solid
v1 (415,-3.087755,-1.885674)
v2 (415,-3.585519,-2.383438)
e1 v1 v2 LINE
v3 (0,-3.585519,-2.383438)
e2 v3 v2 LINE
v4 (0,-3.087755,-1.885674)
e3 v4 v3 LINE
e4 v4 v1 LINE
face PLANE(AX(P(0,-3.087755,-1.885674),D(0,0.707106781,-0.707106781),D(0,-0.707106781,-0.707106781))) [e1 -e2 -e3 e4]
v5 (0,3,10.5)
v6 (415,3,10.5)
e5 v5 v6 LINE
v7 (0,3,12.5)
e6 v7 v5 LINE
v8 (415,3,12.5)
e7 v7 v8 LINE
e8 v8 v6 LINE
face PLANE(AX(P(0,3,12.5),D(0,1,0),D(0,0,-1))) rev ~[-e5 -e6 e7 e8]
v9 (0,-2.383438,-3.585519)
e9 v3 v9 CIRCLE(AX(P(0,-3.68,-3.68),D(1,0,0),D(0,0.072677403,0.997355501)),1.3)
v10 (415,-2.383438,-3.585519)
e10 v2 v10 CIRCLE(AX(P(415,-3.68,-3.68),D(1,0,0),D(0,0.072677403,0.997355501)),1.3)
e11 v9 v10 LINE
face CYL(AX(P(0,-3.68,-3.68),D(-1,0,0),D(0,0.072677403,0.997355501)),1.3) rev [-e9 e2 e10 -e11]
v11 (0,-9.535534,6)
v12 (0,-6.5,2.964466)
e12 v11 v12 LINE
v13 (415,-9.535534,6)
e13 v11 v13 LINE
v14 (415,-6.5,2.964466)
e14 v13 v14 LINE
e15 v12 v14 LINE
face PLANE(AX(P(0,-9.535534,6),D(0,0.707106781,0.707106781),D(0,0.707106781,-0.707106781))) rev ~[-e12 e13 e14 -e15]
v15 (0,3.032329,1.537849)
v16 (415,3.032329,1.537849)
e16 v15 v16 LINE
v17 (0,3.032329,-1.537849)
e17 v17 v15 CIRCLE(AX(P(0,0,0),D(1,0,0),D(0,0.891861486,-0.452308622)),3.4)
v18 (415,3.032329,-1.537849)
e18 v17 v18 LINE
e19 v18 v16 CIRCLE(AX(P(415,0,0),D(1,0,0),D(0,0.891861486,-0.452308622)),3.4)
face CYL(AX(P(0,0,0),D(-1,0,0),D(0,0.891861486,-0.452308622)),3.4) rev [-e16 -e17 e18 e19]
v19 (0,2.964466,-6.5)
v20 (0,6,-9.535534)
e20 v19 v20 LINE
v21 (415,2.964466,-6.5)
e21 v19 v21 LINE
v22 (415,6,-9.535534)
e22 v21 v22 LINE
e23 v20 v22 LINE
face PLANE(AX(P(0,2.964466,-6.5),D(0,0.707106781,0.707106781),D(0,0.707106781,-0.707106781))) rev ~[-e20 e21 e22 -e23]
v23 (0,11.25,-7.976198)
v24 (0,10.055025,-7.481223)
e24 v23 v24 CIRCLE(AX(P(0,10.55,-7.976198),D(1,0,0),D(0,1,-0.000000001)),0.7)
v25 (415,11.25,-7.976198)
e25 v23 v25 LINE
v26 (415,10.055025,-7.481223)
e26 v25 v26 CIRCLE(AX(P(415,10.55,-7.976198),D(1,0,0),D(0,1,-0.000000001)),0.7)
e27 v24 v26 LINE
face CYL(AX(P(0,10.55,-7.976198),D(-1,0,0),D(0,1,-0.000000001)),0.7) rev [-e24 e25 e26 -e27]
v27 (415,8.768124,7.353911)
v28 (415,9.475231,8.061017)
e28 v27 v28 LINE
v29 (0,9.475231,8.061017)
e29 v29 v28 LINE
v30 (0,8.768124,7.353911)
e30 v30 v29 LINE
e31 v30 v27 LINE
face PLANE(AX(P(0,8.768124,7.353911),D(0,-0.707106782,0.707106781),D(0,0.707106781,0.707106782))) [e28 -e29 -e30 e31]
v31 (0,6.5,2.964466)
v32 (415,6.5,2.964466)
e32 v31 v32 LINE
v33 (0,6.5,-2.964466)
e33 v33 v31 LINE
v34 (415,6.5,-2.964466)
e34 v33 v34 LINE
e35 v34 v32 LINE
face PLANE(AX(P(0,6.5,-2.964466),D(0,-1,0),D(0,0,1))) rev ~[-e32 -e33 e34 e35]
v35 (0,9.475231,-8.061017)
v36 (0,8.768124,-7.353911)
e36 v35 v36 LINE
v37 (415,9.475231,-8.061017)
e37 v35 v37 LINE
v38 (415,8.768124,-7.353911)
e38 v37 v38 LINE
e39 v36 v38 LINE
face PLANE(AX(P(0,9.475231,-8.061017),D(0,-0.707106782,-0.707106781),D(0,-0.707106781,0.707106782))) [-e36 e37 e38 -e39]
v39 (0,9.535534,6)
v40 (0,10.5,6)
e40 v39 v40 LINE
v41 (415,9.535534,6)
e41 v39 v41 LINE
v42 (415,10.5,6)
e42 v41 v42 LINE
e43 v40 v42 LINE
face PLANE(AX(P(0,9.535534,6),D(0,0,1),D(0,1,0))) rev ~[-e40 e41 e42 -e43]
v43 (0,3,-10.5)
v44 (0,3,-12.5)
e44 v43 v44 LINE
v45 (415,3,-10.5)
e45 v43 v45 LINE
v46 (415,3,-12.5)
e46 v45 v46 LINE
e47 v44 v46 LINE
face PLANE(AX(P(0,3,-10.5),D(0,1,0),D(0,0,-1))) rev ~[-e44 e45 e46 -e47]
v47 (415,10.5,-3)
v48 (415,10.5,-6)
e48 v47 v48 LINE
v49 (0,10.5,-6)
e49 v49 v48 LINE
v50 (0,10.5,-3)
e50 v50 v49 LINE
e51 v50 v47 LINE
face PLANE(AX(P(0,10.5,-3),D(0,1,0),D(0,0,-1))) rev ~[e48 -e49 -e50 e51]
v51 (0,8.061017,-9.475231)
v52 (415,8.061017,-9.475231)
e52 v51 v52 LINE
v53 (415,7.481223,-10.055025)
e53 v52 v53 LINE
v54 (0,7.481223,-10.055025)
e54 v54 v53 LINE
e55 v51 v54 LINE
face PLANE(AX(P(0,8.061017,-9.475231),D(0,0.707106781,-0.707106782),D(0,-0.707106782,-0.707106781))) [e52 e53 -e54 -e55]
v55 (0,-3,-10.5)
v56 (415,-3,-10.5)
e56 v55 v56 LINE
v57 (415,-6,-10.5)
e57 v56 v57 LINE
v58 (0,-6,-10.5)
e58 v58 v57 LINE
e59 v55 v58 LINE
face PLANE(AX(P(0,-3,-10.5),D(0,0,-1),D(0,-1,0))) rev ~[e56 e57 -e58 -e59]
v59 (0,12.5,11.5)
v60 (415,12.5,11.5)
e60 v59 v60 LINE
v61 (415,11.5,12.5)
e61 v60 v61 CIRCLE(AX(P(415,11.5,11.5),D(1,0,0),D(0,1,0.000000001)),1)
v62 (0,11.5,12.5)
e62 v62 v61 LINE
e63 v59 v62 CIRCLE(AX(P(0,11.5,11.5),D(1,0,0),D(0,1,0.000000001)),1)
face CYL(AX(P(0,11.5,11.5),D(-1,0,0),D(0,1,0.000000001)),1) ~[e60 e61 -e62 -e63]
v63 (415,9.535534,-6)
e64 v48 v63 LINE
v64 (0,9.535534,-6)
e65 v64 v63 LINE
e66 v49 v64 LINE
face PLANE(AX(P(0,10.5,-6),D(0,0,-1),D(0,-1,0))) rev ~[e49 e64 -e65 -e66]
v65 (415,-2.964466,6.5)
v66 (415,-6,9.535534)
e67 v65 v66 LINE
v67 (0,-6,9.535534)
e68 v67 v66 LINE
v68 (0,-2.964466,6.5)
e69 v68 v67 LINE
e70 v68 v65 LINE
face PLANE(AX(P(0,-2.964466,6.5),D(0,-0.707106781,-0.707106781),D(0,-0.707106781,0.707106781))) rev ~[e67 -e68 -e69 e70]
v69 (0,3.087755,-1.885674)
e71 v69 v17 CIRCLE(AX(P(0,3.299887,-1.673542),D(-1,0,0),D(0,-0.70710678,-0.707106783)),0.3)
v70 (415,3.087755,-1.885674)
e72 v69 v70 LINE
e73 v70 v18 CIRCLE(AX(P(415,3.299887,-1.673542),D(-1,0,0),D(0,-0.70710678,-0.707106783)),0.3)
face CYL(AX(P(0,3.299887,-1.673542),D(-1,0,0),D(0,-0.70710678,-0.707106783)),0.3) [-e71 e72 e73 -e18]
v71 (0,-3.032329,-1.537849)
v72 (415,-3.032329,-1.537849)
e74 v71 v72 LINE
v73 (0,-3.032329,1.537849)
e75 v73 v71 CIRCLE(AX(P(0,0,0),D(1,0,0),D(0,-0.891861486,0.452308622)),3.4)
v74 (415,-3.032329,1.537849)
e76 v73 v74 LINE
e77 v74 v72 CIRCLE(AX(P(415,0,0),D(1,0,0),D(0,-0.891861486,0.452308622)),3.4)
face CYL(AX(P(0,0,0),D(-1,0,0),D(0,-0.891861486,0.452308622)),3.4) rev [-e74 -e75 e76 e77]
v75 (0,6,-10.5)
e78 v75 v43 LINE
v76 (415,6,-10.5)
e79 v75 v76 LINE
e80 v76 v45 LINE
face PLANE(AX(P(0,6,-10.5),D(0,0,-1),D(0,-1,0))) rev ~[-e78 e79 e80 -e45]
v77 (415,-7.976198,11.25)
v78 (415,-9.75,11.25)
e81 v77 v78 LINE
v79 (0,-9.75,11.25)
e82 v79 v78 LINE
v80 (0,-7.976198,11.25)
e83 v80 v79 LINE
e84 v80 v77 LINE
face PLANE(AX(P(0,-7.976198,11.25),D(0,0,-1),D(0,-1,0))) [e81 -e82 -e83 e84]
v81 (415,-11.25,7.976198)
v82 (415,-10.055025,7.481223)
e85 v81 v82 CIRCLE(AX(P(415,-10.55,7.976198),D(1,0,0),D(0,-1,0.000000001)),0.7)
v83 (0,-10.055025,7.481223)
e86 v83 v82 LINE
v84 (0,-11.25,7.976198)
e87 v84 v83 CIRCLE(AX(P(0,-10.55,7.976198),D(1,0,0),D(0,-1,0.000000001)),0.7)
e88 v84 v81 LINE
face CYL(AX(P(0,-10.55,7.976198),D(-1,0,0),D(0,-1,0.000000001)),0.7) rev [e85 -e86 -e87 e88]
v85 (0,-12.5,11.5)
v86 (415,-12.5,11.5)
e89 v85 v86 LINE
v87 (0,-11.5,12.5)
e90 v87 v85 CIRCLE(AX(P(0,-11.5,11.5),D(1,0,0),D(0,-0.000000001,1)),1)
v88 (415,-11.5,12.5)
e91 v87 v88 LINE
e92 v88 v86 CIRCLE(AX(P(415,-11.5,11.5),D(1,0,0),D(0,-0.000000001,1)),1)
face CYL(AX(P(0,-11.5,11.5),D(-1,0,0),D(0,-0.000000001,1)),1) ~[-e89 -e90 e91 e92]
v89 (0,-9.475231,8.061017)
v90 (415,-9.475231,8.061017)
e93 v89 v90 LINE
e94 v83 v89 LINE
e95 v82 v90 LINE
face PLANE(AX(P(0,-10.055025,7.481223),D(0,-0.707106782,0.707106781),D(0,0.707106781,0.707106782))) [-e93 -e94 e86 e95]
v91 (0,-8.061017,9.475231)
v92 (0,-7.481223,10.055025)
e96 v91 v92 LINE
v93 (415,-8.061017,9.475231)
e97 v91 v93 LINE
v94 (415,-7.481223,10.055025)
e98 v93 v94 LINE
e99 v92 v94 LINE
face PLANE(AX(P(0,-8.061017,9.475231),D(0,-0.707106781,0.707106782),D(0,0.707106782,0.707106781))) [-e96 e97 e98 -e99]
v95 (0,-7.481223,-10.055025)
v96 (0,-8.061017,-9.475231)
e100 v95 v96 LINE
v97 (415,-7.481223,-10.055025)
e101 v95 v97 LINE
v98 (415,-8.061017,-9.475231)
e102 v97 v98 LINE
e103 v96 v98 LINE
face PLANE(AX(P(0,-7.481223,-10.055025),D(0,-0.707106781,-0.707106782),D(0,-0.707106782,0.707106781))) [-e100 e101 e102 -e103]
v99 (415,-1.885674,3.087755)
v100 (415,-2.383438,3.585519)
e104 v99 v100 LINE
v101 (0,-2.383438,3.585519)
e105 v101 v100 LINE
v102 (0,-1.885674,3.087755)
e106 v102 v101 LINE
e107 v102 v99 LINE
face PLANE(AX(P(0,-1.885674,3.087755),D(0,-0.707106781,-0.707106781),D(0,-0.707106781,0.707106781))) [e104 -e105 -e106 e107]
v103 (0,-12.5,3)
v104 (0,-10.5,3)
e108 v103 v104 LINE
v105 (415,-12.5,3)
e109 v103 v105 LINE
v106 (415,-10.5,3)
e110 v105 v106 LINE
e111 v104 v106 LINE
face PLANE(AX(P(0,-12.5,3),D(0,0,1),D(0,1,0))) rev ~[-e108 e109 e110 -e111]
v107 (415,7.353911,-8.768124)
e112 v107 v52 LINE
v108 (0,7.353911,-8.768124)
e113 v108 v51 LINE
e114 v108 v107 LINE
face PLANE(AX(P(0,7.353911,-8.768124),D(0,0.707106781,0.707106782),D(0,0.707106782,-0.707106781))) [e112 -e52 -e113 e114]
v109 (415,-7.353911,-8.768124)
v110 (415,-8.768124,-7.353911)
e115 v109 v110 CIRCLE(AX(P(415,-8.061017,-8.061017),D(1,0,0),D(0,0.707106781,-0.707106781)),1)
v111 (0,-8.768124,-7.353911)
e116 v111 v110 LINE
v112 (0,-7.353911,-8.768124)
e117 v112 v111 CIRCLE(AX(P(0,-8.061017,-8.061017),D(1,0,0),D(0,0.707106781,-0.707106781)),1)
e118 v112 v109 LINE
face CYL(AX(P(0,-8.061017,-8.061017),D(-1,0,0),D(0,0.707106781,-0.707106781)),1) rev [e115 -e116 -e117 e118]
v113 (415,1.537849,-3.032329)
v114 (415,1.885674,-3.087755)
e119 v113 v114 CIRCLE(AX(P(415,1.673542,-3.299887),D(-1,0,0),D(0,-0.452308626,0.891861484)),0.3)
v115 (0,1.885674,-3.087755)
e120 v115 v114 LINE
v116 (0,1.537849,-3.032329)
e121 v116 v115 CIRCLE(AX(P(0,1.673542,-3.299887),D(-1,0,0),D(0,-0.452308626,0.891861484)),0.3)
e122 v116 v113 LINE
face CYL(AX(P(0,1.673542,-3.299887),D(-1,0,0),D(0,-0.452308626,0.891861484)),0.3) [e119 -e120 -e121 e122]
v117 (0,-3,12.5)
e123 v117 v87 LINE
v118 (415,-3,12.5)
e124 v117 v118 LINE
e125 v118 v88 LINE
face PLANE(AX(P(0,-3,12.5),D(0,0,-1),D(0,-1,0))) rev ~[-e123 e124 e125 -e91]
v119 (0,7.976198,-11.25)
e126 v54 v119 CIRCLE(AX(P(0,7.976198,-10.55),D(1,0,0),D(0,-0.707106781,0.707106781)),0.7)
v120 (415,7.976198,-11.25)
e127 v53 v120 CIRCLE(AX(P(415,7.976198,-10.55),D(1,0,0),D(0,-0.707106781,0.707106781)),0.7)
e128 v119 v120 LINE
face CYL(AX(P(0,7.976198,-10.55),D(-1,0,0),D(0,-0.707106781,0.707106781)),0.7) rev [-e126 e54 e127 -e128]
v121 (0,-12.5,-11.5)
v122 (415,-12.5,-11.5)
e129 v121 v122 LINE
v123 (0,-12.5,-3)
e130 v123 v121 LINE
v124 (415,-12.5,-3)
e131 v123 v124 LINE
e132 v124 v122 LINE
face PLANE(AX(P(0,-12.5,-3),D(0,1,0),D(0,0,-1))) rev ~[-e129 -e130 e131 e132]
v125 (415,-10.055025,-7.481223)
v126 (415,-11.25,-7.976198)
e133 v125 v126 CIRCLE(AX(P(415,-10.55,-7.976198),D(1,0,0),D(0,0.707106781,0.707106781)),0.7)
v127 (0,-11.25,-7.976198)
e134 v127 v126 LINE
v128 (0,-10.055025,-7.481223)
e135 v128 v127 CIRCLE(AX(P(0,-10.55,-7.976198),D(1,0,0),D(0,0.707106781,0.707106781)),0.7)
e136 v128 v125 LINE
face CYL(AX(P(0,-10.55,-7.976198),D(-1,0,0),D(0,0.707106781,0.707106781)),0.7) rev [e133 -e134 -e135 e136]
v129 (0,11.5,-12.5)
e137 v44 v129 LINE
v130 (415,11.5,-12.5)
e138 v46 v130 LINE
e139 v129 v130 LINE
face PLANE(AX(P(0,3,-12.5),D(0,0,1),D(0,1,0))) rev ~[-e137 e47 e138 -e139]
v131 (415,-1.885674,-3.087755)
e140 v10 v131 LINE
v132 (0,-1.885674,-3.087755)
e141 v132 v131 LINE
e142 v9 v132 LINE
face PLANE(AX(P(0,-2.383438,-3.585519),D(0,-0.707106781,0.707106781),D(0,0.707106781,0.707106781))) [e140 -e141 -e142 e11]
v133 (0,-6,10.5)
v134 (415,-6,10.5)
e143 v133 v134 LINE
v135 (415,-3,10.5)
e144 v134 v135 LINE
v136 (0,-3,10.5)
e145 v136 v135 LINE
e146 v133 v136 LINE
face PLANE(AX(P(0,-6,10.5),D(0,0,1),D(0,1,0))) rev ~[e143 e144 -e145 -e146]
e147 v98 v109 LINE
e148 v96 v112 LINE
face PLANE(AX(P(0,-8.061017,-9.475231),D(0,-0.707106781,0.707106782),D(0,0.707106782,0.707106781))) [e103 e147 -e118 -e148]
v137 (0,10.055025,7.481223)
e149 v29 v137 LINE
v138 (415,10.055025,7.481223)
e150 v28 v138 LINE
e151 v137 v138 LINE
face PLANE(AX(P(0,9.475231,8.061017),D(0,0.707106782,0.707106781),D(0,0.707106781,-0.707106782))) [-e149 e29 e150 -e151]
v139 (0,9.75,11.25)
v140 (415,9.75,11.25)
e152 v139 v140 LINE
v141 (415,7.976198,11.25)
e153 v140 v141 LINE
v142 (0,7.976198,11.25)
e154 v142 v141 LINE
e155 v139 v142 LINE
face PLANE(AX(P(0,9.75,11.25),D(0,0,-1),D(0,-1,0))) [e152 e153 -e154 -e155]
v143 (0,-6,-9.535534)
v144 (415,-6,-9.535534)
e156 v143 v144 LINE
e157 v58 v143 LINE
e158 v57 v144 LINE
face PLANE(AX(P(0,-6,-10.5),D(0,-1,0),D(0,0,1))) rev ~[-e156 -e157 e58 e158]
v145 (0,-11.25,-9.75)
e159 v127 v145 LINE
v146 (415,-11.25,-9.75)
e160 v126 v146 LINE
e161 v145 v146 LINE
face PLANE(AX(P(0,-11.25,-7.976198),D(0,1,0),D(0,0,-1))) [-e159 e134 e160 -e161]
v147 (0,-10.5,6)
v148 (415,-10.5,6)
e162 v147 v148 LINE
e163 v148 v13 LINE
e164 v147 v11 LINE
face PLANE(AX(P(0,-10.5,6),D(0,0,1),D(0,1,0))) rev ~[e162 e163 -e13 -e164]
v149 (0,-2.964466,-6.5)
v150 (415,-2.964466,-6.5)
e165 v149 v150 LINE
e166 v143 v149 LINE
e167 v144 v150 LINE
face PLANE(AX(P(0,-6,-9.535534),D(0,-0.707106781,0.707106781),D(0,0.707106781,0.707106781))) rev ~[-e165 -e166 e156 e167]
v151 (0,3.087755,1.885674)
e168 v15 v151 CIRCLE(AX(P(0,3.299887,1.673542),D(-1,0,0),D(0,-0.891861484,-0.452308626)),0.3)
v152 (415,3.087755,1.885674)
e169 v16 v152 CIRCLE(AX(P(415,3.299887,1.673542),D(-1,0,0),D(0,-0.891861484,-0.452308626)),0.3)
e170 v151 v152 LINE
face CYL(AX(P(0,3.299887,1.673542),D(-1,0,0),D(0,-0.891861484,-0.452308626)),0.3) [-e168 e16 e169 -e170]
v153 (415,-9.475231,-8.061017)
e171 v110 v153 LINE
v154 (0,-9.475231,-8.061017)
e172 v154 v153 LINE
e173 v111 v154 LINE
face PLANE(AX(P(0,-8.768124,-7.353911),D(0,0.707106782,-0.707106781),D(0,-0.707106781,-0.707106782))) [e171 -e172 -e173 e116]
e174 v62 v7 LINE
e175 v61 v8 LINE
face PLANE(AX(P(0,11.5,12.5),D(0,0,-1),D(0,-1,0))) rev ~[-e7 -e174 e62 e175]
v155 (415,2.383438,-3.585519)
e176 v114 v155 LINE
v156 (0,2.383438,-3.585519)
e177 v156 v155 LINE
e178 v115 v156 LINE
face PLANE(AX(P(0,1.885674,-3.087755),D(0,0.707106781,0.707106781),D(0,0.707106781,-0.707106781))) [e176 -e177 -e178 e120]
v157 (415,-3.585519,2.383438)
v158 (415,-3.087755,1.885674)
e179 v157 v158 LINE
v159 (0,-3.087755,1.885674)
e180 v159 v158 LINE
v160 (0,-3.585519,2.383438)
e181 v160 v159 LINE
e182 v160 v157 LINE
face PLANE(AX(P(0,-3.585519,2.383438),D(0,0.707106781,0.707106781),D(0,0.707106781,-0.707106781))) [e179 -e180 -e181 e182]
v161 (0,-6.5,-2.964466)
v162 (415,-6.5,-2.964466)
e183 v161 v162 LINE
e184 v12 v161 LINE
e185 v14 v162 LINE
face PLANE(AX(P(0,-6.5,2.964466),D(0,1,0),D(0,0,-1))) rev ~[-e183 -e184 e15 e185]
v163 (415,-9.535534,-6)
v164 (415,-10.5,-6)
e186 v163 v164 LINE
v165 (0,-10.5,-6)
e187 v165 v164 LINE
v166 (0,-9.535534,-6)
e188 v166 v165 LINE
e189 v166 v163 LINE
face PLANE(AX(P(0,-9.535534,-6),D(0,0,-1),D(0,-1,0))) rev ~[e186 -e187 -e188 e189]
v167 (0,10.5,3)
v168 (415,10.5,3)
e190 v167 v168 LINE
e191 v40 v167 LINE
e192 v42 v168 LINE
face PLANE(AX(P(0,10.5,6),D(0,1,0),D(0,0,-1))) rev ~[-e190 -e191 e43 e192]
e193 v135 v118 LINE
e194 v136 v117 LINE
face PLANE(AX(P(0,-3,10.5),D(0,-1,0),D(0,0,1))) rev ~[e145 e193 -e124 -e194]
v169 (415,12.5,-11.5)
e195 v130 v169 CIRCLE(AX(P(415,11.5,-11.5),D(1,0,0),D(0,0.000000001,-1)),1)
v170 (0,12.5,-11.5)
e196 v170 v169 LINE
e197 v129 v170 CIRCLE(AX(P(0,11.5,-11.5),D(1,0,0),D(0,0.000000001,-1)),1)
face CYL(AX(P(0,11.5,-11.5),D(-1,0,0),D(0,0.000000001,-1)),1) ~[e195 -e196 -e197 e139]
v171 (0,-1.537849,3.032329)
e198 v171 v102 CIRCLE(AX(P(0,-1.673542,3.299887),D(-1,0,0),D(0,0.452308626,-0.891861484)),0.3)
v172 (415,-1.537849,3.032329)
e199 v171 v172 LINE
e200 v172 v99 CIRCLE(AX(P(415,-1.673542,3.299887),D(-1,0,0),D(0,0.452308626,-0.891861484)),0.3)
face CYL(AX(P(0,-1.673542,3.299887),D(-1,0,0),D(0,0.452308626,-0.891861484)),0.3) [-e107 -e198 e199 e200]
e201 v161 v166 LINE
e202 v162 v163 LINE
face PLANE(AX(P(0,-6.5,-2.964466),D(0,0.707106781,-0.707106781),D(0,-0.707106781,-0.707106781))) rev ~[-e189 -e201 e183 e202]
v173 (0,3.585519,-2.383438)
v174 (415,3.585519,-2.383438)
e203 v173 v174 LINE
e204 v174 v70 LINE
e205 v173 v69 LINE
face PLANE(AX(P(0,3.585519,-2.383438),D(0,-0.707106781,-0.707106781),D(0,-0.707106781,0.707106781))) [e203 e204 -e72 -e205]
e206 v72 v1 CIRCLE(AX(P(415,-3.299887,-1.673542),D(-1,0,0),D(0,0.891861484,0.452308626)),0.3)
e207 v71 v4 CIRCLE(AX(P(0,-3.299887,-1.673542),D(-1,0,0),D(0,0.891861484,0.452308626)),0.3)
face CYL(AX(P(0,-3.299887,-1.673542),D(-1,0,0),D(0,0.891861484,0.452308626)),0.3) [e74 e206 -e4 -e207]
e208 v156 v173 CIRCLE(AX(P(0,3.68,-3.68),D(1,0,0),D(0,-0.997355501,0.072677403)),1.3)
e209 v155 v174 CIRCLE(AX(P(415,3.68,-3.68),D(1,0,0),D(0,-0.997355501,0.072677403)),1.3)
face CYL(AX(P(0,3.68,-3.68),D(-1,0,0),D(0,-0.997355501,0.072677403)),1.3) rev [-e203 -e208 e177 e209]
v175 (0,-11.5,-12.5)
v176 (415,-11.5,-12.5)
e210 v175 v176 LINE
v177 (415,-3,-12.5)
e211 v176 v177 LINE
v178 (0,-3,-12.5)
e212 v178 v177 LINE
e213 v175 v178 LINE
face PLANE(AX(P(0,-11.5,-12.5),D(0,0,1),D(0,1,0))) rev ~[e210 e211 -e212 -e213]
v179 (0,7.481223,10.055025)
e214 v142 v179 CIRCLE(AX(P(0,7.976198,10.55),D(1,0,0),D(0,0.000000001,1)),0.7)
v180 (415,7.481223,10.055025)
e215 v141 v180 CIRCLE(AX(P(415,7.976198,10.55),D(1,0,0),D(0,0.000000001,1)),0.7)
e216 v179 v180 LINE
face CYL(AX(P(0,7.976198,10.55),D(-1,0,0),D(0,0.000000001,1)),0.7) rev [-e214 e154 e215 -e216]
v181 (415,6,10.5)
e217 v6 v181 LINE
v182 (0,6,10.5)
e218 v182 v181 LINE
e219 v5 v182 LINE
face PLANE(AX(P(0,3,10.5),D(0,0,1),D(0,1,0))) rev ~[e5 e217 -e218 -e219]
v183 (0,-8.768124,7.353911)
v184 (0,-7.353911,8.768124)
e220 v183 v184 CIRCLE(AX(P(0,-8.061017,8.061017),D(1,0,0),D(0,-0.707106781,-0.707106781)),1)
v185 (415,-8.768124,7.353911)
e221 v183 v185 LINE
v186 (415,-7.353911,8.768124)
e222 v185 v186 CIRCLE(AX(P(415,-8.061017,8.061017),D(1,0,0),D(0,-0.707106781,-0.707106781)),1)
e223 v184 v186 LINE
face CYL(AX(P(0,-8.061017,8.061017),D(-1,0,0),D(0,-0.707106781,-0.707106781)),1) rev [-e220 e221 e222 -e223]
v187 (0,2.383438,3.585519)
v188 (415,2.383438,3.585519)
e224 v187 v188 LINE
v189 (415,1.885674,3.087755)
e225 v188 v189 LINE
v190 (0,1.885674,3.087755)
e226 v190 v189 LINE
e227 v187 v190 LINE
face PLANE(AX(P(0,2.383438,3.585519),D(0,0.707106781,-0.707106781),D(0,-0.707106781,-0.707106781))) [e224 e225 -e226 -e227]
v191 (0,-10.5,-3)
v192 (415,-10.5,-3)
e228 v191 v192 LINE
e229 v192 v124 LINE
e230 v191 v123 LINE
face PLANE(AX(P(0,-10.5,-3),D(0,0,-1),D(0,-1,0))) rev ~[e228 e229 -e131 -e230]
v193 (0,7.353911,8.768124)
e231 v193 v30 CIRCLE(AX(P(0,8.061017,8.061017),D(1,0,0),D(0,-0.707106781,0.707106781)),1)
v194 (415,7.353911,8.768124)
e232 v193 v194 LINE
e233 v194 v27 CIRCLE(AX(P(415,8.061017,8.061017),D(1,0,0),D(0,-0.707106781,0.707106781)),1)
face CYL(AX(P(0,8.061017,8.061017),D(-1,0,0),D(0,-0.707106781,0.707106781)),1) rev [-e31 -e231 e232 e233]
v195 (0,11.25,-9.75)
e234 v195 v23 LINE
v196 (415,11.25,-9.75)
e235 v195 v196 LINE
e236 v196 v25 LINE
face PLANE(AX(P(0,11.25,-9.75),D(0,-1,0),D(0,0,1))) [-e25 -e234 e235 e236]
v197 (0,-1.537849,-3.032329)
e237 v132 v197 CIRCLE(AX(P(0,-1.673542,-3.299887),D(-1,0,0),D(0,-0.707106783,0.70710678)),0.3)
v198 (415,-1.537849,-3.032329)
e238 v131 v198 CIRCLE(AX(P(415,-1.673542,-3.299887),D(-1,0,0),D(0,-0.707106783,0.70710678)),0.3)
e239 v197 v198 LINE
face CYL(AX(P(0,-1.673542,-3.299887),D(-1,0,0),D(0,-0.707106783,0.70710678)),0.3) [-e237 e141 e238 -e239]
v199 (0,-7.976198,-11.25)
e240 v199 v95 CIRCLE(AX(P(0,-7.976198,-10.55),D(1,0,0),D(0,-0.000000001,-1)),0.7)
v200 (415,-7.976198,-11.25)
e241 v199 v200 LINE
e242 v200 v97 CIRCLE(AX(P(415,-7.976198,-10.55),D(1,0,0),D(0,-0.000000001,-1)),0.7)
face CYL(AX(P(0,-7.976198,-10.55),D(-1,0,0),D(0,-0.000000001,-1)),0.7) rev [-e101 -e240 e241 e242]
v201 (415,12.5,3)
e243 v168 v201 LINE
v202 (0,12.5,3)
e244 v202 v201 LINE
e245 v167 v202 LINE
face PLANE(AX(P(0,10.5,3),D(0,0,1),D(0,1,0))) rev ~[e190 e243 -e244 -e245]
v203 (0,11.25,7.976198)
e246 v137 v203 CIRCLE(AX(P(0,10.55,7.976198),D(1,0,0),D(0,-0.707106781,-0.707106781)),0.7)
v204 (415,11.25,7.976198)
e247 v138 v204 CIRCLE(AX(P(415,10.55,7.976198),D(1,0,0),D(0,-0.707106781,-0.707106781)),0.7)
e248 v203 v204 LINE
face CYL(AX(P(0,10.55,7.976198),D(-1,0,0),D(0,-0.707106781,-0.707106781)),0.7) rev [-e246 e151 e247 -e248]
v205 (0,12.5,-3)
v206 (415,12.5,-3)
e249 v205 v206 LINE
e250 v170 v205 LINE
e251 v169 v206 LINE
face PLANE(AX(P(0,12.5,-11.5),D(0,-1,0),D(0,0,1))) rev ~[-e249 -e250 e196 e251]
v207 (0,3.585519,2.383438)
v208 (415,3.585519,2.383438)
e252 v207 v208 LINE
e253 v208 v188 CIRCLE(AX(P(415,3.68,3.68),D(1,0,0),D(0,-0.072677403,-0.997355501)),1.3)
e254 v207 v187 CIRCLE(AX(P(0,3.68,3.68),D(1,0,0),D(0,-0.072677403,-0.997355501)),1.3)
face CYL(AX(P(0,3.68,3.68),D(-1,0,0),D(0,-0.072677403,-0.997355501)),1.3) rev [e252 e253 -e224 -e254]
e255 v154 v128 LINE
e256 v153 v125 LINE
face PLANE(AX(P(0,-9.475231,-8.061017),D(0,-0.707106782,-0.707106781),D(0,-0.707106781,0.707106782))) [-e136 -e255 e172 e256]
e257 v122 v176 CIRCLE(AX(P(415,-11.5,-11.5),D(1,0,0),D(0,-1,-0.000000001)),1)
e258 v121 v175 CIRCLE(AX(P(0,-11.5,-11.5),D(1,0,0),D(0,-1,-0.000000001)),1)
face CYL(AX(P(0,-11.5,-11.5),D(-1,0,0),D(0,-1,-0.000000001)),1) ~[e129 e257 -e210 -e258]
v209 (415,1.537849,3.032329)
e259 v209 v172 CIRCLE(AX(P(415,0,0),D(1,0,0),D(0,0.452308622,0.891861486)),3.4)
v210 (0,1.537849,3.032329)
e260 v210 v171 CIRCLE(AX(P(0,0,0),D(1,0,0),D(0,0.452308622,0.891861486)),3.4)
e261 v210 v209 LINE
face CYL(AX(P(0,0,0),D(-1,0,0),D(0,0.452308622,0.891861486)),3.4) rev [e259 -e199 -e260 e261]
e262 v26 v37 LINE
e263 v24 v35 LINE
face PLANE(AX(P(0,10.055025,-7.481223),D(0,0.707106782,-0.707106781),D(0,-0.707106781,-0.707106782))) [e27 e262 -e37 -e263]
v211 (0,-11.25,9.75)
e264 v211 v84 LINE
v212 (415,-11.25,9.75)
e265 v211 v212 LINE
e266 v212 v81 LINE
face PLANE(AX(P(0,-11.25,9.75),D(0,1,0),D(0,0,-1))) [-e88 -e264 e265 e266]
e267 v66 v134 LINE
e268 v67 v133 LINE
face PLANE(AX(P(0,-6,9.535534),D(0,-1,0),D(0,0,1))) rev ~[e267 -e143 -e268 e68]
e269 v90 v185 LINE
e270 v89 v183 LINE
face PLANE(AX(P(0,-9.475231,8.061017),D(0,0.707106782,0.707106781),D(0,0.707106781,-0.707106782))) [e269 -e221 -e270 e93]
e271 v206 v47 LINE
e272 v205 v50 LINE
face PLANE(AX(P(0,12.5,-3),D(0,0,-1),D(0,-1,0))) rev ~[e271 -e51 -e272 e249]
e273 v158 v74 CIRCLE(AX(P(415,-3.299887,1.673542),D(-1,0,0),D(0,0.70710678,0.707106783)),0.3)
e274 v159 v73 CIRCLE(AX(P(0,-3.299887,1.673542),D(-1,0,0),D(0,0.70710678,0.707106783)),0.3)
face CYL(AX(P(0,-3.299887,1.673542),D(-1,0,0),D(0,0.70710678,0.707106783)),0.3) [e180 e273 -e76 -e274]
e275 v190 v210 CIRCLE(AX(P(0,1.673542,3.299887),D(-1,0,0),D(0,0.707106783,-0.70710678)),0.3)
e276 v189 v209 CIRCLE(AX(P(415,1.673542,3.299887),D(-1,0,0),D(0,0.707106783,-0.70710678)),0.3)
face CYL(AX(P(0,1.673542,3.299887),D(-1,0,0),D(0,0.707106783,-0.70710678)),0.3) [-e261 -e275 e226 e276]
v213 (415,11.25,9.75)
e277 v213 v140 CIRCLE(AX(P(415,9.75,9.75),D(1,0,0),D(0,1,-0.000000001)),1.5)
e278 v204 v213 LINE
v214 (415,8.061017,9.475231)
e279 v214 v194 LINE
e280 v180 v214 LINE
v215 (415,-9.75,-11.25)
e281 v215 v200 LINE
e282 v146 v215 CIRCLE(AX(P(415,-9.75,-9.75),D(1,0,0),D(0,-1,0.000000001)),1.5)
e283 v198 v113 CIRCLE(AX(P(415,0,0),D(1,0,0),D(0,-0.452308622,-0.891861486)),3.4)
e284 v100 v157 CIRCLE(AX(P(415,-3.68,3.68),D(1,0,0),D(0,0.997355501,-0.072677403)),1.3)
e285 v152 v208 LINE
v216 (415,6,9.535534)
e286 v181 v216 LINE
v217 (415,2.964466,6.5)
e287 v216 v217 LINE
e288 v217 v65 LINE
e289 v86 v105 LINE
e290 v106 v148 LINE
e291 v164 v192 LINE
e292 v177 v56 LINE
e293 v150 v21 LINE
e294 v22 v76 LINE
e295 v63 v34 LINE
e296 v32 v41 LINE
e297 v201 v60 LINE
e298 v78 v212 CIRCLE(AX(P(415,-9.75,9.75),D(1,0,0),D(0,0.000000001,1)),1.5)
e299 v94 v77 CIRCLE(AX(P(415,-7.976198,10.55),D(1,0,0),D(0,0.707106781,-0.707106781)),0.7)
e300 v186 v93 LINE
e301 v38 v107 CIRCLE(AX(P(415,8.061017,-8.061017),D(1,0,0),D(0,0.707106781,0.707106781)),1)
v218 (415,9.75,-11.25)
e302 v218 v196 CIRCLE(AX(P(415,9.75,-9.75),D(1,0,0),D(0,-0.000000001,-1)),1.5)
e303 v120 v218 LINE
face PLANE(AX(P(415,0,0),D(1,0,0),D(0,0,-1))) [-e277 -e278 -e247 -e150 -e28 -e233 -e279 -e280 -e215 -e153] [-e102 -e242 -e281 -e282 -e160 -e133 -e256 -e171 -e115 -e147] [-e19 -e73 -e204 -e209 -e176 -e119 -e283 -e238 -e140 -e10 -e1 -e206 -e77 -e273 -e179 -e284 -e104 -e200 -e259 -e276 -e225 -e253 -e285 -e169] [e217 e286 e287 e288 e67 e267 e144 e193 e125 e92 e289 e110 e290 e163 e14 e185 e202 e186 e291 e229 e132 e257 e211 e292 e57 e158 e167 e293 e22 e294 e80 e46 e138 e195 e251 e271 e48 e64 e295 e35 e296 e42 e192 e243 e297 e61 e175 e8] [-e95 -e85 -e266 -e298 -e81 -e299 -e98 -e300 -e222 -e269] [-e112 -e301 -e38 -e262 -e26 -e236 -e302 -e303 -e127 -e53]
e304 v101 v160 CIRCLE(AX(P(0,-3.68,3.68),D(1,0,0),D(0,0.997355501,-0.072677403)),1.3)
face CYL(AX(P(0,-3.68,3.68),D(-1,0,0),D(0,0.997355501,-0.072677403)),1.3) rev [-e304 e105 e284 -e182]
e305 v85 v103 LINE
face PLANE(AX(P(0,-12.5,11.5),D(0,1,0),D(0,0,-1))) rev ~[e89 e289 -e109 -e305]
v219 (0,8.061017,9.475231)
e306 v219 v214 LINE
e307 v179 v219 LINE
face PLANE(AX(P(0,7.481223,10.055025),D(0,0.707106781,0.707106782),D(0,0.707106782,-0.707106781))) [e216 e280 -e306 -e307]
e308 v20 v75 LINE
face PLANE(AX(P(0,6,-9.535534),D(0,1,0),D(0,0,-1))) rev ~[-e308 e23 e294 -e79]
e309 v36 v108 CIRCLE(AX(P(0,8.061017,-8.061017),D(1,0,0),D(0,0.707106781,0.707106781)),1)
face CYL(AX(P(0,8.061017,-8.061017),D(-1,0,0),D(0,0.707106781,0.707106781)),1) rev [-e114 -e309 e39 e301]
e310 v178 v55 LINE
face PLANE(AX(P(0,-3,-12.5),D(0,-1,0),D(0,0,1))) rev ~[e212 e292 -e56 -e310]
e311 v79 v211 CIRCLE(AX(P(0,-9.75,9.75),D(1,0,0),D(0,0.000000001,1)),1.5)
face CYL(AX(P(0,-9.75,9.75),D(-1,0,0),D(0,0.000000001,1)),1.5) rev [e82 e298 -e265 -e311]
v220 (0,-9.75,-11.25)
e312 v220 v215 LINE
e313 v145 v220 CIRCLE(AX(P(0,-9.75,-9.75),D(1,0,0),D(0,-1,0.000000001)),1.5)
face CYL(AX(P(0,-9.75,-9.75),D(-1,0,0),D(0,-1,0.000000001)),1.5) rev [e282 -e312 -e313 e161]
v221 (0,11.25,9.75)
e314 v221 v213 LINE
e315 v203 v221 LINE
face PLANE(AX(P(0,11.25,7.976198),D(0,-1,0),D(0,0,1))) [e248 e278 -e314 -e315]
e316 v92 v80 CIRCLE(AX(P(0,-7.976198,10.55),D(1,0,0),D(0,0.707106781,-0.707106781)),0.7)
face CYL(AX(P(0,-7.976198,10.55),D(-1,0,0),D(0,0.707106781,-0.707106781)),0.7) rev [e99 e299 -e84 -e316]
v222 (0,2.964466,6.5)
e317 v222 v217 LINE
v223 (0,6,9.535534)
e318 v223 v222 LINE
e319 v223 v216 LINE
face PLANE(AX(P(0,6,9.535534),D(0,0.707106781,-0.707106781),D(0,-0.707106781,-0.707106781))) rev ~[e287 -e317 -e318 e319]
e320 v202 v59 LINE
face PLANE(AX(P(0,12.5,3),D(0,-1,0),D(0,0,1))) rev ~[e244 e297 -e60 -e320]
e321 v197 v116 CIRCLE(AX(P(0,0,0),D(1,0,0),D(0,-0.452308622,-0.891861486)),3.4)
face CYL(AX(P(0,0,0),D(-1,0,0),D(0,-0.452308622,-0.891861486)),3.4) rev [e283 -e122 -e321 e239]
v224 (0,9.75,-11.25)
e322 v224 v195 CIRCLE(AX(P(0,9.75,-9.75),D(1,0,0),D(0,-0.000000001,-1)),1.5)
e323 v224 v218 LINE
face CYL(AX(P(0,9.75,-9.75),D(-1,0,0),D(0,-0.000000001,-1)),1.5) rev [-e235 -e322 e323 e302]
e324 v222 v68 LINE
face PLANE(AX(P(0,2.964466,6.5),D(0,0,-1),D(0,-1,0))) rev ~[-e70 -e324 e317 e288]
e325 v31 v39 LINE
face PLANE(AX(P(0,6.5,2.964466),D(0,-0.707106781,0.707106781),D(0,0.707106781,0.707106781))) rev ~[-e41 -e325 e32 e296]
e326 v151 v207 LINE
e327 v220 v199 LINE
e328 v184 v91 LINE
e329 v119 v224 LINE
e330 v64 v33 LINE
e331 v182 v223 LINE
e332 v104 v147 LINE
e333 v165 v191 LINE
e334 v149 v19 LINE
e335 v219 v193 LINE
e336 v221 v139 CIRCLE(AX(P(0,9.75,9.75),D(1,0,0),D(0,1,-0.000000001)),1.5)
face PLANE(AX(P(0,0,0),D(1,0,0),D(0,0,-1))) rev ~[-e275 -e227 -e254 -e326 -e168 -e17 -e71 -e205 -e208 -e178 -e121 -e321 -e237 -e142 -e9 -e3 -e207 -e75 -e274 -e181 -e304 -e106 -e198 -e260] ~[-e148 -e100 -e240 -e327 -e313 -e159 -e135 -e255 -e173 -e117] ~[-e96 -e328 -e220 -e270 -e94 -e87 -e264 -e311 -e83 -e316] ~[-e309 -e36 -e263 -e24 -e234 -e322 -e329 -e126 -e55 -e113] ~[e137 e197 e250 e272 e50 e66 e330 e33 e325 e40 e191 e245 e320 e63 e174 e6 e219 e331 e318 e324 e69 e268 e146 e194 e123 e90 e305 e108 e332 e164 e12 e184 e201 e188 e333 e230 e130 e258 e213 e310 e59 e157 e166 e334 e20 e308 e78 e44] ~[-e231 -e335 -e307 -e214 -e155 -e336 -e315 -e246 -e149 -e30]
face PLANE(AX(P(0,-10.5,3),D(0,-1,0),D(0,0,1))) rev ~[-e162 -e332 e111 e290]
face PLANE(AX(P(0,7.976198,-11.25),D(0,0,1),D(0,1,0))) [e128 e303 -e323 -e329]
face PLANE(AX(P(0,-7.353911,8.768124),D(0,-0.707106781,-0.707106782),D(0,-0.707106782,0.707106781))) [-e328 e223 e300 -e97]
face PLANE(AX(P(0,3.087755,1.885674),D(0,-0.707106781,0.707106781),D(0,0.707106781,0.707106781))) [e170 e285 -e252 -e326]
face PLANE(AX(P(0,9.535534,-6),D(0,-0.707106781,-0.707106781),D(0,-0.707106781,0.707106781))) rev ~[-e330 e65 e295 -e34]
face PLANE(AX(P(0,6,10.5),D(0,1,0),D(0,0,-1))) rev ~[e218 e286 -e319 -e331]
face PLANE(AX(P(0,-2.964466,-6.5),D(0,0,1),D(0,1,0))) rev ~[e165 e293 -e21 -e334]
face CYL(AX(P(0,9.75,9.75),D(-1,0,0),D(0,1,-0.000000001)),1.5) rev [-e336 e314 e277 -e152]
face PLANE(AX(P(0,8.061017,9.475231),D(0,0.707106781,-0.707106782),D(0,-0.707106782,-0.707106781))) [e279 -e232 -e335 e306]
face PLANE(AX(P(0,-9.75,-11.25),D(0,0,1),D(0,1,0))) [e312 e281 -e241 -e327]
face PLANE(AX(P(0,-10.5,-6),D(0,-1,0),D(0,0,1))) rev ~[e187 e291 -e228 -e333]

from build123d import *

# Parameters (mm, degrees)
BOSS_EXTRUDE1_DEPTH = 415


with BuildPart() as part:
    # Sketch1 → Boss-Extrude1 (new body)
    with BuildSketch(Plane(origin=(0, 0, 0), x_dir=(0, 0, -1), z_dir=(1, 0, 0))):
        with BuildLine():
            Line((-12.5, 11.5), (-12.5, 3))
            Line((-12.5, 3), (-10.5, 3))
            Line((-10.5, 3), (-10.5, 6))
            Line((-10.5, 6), (-9.535533906, 6))
            Line((-9.535533906, 6), (-6.5, 2.964466094))
            Line((-6.5, 2.964466094), (-6.5, -2.964466094))
            Line((-6.5, -2.964466094), (-9.535533906, -6))
            Line((-9.535533906, -6), (-10.5, -6))
            Line((-10.5, -6), (-10.5, -3))
            Line((-10.5, -3), (-12.5, -3))
            Line((-12.5, -3), (-12.5, -11.5))
            ThreePointArc((-12.5, -11.5), (-12.207106781, -12.207106781), (-11.5, -12.5))
            Line((-11.5, -12.5), (-3, -12.5))
            Line((-3, -12.5), (-3, -10.5))
            Line((-3, -10.5), (-6, -10.5))
            Line((-6, -10.5), (-6, -9.535533906))
            Line((-6, -9.535533906), (-2.964466094, -6.5))
            Line((-2.964466094, -6.5), (2.964466094, -6.5))
            Line((2.964466094, -6.5), (6, -9.535533906))
            Line((6, -9.535533906), (6, -10.5))
            Line((6, -10.5), (3, -10.5))
            Line((3, -10.5), (3, -12.5))
            Line((3, -12.5), (11.5, -12.5))
            ThreePointArc((11.5, -12.5), (12.207106781, -12.207106781), (12.5, -11.5))
            Line((12.5, -11.5), (12.5, -3))
            Line((12.5, -3), (10.5, -3))
            Line((10.5, -3), (10.5, -6))
            Line((10.5, -6), (9.535533906, -6))
            Line((9.535533906, -6), (6.5, -2.964466094))
            Line((6.5, -2.964466094), (6.5, 2.964466094))
            Line((6.5, 2.964466094), (9.535533906, 6))
            Line((9.535533906, 6), (10.5, 6))
            Line((10.5, 6), (10.5, 3))
            Line((10.5, 3), (12.5, 3))
            Line((12.5, 3), (12.5, 11.5))
            ThreePointArc((12.5, 11.5), (12.207106781, 12.207106781), (11.5, 12.5))
            Line((11.5, 12.5), (3, 12.5))
            Line((3, 12.5), (3, 10.5))
            Line((3, 10.5), (6, 10.5))
            Line((6, 10.5), (6, 9.535533906))
            Line((6, 9.535533906), (2.964466094, 6.5))
            Line((2.964466094, 6.5), (-2.964466094, 6.5))
            Line((-2.964466094, 6.5), (-6, 9.535533906))
            Line((-6, 9.535533906), (-6, 10.5))
            Line((-6, 10.5), (-3, 10.5))
            Line((-3, 10.5), (-3, 12.5))
            Line((-3, 12.5), (-11.5, 12.5))
            ThreePointArc((-11.5, 12.5), (-12.207106781, 12.207106781), (-12.5, 11.5))
        make_face()
        with BuildLine():
            Line((-3.087755464, -1.885673936), (-3.585519377, -2.383437849))
            ThreePointArc((-3.585519377, -2.383437849), (-4.599238816, -4.599238816), (-2.383437849, -3.585519377))
            Line((-2.383437849, -3.585519377), (-1.885673936, -3.087755464))
            ThreePointArc((-1.885673936, -3.087755464), (-1.720751743, -3.0036254), (-1.537849315, -3.032329053))
            ThreePointArc((-1.537849315, -3.032329053), (0, -3.4), (1.537849315, -3.032329053))
            ThreePointArc((1.537849315, -3.032329053), (1.720751743, -3.0036254), (1.885673936, -3.087755464))
            Line((1.885673936, -3.087755464), (2.383437849, -3.585519377))
            ThreePointArc((2.383437849, -3.585519377), (4.599238816, -4.599238816), (3.585519377, -2.383437849))
            Line((3.585519377, -2.383437849), (3.087755464, -1.885673936))
            ThreePointArc((3.087755464, -1.885673936), (3.0036254, -1.720751743), (3.032329053, -1.537849315))
            ThreePointArc((3.032329053, -1.537849315), (3.4, 0), (3.032329053, 1.537849315))
            ThreePointArc((3.032329053, 1.537849315), (3.0036254, 1.720751743), (3.087755464, 1.885673936))
            Line((3.087755464, 1.885673936), (3.585519377, 2.383437849))
            ThreePointArc((3.585519377, 2.383437849), (4.599238816, 4.599238816), (2.383437849, 3.585519377))
            Line((2.383437849, 3.585519377), (1.885673936, 3.087755464))
            ThreePointArc((1.885673936, 3.087755464), (1.720751743, 3.0036254), (1.537849315, 3.032329053))
            ThreePointArc((1.537849315, 3.032329053), (0, 3.4), (-1.537849315, 3.032329053))
            ThreePointArc((-1.537849315, 3.032329053), (-1.720751743, 3.0036254), (-1.885673936, 3.087755464))
            Line((-1.885673936, 3.087755464), (-2.383437849, 3.585519377))
            ThreePointArc((-2.383437849, 3.585519377), (-4.599238816, 4.599238816), (-3.585519377, 2.383437849))
            Line((-3.585519377, 2.383437849), (-3.087755464, 1.885673936))
            ThreePointArc((-3.087755464, 1.885673936), (-3.0036254, 1.720751743), (-3.032329053, 1.537849315))
            ThreePointArc((-3.032329053, 1.537849315), (-3.4, 0), (-3.032329053, -1.537849315))
            ThreePointArc((-3.032329053, -1.537849315), (-3.0036254, -1.720751743), (-3.087755464, -1.885673936))
        make_face(mode=Mode.SUBTRACT)
        with BuildLine():
            Line((-11.25, 9.75), (-11.25, 7.976197667))
            ThreePointArc((-11.25, 7.976197667), (-10.817878403, 7.329481994), (-10.055025253, 7.48122292))
            Line((-10.055025253, 7.48122292), (-9.475230868, 8.061017306))
            Line((-9.475230868, 8.061017306), (-8.768124087, 7.353910524))
            ThreePointArc((-8.768124087, 7.353910524), (-7.353910524, 7.353910524), (-7.353910524, 8.768124087))
            Line((-7.353910524, 8.768124087), (-8.061017306, 9.475230868))
            Line((-8.061017306, 9.475230868), (-7.48122292, 10.055025253))
            ThreePointArc((-7.48122292, 10.055025253), (-7.329481994, 10.817878403), (-7.976197667, 11.25))
            Line((-7.976197667, 11.25), (-9.75, 11.25))
            ThreePointArc((-9.75, 11.25), (-10.810660172, 10.810660172), (-11.25, 9.75))
        make_face(mode=Mode.SUBTRACT)
        with BuildLine():
            Line((8.061017306, 9.475230868), (7.353910524, 8.768124087))
            ThreePointArc((7.353910524, 8.768124087), (7.353910524, 7.353910524), (8.768124087, 7.353910524))
            Line((8.768124087, 7.353910524), (9.475230868, 8.061017306))
            Line((9.475230868, 8.061017306), (10.055025253, 7.48122292))
            ThreePointArc((10.055025253, 7.48122292), (10.817878403, 7.329481994), (11.25, 7.976197667))
            Line((11.25, 7.976197667), (11.25, 9.75))
            ThreePointArc((11.25, 9.75), (10.810660172, 10.810660172), (9.75, 11.25))
            Line((9.75, 11.25), (7.976197667, 11.25))
            ThreePointArc((7.976197667, 11.25), (7.329481994, 10.817878403), (7.48122292, 10.055025253))
            Line((7.48122292, 10.055025253), (8.061017306, 9.475230868))
        make_face(mode=Mode.SUBTRACT)
        with BuildLine():
            Line((-9.475230868, -8.061017306), (-10.055025253, -7.48122292))
            ThreePointArc((-10.055025253, -7.48122292), (-10.817878403, -7.329481994), (-11.25, -7.976197667))
            Line((-11.25, -7.976197667), (-11.25, -9.75))
            ThreePointArc((-11.25, -9.75), (-10.810660172, -10.810660172), (-9.75, -11.25))
            Line((-9.75, -11.25), (-7.976197667, -11.25))
            ThreePointArc((-7.976197667, -11.25), (-7.329481994, -10.817878403), (-7.48122292, -10.055025253))
            Line((-7.48122292, -10.055025253), (-8.061017306, -9.475230868))
            Line((-8.061017306, -9.475230868), (-7.353910524, -8.768124087))
            ThreePointArc((-7.353910524, -8.768124087), (-7.353910524, -7.353910524), (-8.768124087, -7.353910524))
            Line((-8.768124087, -7.353910524), (-9.475230868, -8.061017306))
        make_face(mode=Mode.SUBTRACT)
        with BuildLine():
            Line((9.475230868, -8.061017306), (8.768124087, -7.353910524))
            ThreePointArc((8.768124087, -7.353910524), (7.353910524, -7.353910524), (7.353910524, -8.768124087))
            Line((7.353910524, -8.768124087), (8.061017306, -9.475230868))
            Line((8.061017306, -9.475230868), (7.48122292, -10.055025253))
            ThreePointArc((7.48122292, -10.055025253), (7.329481994, -10.817878403), (7.976197667, -11.25))
            Line((7.976197667, -11.25), (9.75, -11.25))
            ThreePointArc((9.75, -11.25), (10.810660172, -10.810660172), (11.25, -9.75))
            Line((11.25, -9.75), (11.25, -7.976197667))
            ThreePointArc((11.25, -7.976197667), (10.817878403, -7.329481994), (10.055025253, -7.48122292))
            Line((10.055025253, -7.48122292), (9.475230868, -8.061017306))
        make_face(mode=Mode.SUBTRACT)
    extrude(amount=BOSS_EXTRUDE1_DEPTH)


solid = part.part
